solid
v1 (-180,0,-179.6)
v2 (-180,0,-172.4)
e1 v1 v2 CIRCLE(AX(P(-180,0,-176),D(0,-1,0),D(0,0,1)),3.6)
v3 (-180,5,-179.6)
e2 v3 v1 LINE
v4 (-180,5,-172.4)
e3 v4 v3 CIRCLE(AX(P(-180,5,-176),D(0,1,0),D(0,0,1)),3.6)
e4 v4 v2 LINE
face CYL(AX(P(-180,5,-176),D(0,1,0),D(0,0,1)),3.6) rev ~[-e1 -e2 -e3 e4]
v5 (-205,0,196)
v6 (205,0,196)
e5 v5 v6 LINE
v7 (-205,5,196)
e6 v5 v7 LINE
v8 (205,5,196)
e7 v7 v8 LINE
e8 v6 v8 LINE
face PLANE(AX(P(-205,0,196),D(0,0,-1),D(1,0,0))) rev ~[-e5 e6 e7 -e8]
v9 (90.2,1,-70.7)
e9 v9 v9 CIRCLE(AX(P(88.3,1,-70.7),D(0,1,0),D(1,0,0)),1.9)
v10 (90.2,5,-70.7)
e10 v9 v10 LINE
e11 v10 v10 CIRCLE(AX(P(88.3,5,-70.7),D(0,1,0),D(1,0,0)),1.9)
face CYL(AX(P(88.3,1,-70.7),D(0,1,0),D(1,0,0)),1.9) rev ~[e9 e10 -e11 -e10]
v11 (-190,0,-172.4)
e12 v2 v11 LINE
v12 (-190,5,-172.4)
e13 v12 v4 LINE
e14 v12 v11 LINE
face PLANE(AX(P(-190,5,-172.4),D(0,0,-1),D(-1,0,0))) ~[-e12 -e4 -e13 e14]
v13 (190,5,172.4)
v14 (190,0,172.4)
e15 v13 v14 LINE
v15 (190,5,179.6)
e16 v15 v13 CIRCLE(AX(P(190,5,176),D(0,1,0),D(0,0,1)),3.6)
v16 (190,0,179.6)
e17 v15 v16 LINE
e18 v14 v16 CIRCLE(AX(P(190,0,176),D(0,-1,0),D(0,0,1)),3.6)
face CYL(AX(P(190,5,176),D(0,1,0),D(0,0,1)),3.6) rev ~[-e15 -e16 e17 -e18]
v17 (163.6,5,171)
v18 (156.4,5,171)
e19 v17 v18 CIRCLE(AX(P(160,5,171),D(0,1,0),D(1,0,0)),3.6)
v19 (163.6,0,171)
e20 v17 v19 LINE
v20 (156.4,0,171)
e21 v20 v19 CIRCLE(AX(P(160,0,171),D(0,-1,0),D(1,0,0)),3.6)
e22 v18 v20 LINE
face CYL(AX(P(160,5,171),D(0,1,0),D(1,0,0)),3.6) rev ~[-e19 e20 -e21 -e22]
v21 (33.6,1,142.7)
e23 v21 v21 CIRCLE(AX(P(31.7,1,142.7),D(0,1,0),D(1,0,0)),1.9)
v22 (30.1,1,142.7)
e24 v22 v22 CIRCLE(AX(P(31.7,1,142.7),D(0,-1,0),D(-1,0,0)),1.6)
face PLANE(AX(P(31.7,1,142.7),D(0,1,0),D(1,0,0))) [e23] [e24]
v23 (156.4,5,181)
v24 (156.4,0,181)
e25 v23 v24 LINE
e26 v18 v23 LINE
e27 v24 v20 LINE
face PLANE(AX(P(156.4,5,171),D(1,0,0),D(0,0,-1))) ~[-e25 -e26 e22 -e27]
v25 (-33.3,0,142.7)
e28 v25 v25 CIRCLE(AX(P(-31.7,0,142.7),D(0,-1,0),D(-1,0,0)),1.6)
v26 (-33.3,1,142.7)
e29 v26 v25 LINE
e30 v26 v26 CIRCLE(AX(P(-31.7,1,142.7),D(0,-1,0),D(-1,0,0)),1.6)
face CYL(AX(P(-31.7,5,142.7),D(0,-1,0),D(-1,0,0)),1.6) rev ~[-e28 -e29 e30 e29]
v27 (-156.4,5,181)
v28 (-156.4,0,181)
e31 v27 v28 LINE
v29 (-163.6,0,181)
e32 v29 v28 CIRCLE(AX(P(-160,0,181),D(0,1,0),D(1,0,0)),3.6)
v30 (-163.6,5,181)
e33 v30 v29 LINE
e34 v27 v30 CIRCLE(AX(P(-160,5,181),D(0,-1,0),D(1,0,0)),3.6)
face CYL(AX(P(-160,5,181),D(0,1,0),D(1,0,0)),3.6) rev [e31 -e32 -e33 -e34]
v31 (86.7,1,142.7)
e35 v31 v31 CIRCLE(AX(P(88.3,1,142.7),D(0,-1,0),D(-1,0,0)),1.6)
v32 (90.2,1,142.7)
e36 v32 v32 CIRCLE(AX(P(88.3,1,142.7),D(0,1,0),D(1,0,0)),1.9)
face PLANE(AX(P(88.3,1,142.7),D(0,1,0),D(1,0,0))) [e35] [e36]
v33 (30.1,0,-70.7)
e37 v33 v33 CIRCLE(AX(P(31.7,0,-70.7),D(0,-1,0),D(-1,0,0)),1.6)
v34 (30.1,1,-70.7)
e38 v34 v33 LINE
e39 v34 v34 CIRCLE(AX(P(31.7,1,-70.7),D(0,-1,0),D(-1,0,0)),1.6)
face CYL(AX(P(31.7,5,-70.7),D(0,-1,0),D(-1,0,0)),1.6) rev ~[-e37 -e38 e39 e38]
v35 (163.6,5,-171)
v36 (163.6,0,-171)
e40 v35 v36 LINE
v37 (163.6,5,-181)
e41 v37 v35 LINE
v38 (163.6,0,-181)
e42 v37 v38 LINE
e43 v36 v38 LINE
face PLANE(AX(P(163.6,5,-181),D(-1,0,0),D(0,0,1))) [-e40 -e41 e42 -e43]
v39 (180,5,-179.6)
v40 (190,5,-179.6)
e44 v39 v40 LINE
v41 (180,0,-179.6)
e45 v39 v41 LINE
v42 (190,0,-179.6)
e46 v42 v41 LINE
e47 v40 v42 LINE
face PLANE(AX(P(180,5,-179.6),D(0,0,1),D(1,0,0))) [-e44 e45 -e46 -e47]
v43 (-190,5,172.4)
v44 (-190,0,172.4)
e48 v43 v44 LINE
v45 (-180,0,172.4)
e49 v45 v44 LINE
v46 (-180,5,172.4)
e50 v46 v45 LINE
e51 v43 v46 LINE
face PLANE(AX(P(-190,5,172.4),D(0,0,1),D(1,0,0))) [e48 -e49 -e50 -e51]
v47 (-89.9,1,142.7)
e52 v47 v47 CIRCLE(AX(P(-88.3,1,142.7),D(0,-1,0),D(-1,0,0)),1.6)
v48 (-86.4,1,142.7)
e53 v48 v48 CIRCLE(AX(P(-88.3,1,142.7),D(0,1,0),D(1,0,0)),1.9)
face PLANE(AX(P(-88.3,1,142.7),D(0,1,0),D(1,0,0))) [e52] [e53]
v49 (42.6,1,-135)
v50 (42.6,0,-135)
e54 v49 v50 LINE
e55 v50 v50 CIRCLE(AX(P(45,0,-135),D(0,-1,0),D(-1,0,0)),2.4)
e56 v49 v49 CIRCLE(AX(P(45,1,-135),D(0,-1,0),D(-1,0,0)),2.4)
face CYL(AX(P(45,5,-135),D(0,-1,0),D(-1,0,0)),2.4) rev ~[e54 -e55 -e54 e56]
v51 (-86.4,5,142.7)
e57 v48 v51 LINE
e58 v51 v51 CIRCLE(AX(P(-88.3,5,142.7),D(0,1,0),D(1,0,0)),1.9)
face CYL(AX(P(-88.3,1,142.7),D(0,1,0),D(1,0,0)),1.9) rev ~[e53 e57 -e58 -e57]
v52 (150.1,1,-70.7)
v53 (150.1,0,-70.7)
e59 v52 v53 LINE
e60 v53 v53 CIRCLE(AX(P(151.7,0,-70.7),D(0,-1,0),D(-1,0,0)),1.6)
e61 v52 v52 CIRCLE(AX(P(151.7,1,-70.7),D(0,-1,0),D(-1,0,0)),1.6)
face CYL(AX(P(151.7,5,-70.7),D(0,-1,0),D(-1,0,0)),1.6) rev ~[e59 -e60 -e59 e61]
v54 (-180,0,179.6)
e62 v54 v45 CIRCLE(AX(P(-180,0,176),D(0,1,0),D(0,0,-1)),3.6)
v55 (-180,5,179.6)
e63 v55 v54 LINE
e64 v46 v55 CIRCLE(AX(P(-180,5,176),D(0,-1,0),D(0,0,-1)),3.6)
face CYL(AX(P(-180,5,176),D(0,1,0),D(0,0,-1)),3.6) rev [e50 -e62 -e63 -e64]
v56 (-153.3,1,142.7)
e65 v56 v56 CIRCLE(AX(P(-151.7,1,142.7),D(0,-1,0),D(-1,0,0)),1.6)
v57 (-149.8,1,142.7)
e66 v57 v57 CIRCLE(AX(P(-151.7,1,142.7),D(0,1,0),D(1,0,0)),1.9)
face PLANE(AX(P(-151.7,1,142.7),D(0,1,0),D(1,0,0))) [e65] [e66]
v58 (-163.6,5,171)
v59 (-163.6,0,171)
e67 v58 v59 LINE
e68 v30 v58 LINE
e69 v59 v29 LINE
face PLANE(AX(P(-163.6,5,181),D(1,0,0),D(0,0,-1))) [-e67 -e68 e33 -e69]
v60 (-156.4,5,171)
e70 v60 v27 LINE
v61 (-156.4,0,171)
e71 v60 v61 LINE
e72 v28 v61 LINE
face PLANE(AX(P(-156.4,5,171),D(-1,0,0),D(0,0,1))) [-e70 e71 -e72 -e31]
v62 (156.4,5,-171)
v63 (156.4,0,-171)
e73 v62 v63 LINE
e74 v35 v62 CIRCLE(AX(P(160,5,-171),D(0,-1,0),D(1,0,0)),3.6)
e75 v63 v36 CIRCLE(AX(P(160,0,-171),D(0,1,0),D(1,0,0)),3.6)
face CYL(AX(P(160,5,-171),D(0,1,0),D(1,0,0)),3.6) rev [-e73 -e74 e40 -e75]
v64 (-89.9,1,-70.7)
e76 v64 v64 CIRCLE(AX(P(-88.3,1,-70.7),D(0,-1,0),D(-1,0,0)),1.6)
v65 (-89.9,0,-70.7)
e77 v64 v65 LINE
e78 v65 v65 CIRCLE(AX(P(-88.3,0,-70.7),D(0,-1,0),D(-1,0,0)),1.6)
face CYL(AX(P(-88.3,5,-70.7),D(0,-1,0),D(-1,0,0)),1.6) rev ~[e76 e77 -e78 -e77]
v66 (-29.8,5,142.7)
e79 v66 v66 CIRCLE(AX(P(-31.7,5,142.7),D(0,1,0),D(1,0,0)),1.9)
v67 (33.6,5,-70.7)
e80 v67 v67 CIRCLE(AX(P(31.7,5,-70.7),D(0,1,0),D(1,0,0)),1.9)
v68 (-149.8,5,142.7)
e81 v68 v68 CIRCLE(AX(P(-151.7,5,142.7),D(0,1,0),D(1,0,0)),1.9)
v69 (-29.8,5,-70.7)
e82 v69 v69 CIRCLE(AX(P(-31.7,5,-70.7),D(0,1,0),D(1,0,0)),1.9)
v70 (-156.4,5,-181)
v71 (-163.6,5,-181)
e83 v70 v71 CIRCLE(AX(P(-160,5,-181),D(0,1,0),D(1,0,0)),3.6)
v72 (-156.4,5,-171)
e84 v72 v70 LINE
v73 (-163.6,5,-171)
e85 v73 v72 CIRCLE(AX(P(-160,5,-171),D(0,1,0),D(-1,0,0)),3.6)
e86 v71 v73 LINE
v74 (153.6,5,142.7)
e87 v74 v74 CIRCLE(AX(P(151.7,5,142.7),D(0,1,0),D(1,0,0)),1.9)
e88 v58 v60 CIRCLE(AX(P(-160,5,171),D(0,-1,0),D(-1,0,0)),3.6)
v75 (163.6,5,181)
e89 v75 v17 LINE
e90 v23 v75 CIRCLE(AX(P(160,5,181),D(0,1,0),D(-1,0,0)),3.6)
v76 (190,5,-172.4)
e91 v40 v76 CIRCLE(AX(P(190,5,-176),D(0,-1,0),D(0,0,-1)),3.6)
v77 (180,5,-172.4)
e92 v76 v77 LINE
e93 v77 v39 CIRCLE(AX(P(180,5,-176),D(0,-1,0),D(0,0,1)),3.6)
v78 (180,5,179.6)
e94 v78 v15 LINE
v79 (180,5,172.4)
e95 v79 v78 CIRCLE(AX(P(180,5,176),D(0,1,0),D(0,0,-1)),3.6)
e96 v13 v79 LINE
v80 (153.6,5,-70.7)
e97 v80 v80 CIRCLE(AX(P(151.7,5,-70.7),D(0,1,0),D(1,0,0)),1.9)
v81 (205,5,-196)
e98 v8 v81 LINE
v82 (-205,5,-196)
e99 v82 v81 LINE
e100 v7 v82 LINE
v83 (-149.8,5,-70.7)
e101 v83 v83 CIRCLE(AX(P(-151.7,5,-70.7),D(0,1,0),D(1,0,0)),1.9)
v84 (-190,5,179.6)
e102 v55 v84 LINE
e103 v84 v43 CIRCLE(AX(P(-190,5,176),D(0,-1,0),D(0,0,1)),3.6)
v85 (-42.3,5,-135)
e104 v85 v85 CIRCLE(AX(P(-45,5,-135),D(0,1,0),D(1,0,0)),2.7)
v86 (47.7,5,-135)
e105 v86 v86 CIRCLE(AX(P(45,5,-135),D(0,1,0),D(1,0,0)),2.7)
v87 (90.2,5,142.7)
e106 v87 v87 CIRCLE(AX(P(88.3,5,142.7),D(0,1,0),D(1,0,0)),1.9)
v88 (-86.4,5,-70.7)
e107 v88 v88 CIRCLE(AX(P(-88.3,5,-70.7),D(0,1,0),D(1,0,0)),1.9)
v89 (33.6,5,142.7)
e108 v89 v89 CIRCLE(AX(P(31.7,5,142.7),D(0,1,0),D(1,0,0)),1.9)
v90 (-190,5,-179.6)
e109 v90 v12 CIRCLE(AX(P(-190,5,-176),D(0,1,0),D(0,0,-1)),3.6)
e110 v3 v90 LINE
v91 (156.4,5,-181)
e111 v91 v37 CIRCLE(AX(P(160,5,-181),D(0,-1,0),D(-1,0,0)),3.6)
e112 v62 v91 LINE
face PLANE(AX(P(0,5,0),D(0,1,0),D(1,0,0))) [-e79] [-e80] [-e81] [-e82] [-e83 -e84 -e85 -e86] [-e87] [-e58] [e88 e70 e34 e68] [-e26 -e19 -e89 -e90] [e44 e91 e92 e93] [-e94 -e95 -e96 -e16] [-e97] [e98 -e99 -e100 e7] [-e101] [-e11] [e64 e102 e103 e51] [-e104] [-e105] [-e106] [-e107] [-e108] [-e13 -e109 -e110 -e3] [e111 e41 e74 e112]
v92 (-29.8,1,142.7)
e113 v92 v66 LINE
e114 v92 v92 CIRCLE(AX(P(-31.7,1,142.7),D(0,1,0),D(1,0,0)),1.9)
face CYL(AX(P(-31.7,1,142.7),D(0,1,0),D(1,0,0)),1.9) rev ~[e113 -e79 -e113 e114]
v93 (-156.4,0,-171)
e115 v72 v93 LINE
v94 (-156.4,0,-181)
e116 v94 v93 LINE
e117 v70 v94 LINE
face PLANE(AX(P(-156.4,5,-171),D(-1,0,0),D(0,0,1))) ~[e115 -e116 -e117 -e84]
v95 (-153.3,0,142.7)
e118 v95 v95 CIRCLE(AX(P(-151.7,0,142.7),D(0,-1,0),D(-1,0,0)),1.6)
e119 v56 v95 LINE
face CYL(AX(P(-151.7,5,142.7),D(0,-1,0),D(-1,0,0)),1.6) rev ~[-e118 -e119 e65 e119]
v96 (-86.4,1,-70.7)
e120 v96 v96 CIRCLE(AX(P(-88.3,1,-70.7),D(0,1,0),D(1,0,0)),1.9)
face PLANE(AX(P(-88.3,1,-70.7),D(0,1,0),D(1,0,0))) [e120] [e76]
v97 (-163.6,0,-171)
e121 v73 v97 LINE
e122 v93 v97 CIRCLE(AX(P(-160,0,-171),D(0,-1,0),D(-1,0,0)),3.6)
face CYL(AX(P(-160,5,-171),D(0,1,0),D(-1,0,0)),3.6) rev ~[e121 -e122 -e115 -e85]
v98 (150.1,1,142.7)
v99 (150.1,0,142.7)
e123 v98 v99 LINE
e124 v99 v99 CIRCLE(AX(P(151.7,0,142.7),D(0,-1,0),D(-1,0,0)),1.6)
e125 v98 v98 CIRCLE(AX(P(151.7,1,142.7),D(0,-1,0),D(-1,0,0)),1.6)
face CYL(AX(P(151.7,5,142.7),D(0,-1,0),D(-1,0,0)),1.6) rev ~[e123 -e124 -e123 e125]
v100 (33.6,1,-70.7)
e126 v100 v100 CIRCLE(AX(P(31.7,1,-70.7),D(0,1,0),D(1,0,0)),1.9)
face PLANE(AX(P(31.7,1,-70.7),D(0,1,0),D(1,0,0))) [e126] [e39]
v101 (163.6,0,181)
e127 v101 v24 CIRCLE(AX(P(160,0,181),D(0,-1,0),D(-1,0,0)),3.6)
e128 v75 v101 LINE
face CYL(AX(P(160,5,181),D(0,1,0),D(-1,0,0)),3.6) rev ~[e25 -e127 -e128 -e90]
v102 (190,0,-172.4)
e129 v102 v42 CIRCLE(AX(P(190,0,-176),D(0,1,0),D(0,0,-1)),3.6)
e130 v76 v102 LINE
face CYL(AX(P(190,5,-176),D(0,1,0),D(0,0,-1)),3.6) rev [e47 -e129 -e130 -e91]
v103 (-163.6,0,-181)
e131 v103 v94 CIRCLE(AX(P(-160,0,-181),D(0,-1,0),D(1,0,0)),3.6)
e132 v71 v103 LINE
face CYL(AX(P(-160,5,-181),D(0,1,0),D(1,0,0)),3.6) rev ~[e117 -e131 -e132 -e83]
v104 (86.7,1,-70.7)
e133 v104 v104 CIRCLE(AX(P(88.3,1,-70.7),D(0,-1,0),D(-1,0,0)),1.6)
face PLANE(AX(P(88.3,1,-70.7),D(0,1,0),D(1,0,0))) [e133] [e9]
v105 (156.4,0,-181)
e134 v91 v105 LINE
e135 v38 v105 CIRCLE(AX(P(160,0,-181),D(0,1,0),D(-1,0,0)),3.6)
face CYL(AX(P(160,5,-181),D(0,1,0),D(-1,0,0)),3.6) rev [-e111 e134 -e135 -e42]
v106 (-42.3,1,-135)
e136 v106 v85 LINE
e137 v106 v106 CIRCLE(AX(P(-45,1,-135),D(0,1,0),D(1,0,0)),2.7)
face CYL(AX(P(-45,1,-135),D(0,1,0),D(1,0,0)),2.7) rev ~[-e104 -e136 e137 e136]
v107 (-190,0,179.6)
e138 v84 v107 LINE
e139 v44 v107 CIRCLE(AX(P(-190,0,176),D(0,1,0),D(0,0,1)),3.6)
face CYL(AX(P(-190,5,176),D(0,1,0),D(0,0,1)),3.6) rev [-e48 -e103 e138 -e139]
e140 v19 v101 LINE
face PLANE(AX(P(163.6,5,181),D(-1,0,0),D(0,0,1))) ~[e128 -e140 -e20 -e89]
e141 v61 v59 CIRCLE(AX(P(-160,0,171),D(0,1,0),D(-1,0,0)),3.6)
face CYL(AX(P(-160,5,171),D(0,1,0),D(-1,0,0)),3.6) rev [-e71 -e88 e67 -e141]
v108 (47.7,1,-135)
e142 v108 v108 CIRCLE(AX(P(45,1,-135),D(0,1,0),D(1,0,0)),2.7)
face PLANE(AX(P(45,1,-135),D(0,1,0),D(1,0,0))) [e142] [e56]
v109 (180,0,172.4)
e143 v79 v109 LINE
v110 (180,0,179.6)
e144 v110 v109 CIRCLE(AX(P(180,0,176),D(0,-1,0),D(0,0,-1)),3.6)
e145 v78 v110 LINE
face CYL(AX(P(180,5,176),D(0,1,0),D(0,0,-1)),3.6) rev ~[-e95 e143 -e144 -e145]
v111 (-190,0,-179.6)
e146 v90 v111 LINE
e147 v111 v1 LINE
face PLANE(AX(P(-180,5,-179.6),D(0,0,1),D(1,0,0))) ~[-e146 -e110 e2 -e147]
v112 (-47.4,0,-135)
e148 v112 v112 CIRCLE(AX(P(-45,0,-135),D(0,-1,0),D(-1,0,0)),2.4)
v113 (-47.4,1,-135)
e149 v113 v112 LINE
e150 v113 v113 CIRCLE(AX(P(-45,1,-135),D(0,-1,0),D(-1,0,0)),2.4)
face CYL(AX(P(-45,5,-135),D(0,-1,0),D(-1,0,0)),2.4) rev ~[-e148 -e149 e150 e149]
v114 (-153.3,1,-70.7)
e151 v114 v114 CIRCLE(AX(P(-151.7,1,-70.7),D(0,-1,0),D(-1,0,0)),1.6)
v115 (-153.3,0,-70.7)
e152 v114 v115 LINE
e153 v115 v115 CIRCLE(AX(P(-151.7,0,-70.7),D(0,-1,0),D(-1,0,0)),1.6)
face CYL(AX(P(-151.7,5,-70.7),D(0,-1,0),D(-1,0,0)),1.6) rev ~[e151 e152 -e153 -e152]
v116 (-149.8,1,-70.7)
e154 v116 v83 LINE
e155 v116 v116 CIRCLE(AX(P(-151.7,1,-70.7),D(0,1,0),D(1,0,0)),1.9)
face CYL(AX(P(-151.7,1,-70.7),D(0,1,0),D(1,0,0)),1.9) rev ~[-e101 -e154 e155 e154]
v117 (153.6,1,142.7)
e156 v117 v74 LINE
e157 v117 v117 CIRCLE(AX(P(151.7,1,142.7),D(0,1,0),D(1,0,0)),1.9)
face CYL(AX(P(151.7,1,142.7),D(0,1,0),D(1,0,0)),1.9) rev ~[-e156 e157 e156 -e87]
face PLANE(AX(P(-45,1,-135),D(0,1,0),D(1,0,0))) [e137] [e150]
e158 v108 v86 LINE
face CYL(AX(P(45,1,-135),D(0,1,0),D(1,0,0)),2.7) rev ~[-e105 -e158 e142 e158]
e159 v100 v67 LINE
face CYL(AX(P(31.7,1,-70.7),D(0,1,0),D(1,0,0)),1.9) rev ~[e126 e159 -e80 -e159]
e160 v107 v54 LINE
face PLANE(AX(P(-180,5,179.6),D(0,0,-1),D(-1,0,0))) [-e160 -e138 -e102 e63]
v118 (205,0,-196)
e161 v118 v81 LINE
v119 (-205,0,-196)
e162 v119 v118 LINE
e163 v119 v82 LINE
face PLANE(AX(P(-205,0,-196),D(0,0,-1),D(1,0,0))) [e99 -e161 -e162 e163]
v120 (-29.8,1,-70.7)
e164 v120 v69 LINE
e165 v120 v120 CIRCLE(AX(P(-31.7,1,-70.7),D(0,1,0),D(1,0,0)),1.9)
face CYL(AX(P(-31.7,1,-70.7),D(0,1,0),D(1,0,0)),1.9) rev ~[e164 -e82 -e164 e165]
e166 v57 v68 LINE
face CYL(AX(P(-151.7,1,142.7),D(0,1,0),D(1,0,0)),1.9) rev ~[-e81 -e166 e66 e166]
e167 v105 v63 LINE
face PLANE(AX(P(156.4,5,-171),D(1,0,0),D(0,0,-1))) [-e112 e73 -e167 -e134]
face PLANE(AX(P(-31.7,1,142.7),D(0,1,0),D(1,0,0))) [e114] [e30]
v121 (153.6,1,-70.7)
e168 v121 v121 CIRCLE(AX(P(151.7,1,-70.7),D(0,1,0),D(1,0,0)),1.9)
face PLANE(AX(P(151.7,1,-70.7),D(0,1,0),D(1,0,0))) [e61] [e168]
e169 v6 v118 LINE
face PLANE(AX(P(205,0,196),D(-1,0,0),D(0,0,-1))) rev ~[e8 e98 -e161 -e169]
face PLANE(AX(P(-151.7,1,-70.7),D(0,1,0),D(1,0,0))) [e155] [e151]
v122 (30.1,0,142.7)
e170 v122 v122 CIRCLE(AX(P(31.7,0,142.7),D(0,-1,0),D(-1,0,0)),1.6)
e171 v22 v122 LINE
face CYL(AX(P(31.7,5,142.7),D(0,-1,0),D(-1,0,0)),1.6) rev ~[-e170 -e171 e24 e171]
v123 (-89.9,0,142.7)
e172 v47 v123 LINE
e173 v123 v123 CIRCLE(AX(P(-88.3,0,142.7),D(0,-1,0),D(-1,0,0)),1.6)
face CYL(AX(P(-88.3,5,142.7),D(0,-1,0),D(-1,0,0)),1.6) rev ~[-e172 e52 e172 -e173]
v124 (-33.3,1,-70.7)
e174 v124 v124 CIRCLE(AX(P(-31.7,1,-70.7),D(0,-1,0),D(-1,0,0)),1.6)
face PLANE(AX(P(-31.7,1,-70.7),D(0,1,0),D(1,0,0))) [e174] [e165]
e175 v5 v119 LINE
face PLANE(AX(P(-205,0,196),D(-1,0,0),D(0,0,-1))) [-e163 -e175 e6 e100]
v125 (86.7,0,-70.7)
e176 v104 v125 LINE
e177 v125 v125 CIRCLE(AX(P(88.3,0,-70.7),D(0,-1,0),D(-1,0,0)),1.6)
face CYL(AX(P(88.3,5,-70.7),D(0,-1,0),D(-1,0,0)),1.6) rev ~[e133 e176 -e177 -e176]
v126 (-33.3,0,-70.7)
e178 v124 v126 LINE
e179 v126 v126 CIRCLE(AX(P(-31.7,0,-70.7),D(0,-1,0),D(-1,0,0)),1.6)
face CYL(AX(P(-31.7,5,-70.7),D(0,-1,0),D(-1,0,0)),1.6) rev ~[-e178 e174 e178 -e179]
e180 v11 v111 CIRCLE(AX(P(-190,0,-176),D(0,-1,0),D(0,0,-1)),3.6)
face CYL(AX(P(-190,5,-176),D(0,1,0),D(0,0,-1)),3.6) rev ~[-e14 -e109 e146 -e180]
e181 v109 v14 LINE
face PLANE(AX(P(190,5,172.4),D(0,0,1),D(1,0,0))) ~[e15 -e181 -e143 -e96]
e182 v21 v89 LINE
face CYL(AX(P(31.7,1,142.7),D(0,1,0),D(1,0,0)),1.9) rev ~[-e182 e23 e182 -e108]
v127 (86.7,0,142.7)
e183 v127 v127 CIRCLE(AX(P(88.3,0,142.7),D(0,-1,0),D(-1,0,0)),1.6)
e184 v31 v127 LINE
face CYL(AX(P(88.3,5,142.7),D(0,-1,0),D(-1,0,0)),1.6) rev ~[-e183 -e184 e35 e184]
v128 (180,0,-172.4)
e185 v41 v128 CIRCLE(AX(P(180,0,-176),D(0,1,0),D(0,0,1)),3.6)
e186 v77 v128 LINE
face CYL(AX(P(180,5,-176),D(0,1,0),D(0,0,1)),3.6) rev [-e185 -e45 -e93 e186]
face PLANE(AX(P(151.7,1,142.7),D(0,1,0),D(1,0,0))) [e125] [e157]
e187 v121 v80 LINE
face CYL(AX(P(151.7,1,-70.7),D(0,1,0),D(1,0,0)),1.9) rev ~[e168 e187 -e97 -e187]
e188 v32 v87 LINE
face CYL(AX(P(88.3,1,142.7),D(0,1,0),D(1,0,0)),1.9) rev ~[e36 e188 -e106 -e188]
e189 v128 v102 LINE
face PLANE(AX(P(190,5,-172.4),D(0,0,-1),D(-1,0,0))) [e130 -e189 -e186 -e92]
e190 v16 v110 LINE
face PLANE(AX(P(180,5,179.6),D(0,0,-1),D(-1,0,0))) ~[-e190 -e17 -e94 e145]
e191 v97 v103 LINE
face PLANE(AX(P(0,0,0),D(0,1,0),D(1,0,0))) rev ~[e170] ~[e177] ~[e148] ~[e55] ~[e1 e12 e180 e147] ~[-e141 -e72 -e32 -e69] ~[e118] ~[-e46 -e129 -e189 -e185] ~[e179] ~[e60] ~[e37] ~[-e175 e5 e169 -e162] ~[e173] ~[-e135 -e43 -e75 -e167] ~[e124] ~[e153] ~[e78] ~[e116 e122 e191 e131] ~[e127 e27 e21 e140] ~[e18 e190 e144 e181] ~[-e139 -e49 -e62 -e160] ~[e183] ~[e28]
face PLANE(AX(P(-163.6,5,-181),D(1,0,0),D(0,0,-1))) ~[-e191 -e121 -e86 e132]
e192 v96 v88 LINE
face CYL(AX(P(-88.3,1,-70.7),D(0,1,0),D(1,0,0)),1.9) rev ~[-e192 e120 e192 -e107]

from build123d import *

# Parameters (mm, degrees)
SKETCH1_W                                = 410
SKETCH1_H                                = 392
BOSS_EXTRUDE1_DEPTH                      = 5
HOLE1_D                                  = 3.2
HOLE1_CBORE_D                            = 3.8
HOLE1_CBORE_DEPTH                        = 4
CUT_EXTRUDE2_REACH                       = 285.665
MIRROR1_AT_THE_SECOND_PLANE_COPY_1_REACH = 285.665
HOLE2_D                                  = 4.8
HOLE2_CBORE_D                            = 5.4
HOLE2_CBORE_DEPTH                        = 4


with BuildPart() as part:
    # Sketch1 → Boss-Extrude1 (new body)
    with BuildSketch(Plane(origin=(0, 0, 0), x_dir=(1, 0, 0), z_dir=(0, 1, 0))):
        Rectangle(SKETCH1_W, SKETCH1_H)
    extrude(amount=BOSS_EXTRUDE1_DEPTH)

    # Hole1 (through all)
    with Locations(Plane(origin=(0, 5, 0), x_dir=(1, 0, 0), z_dir=(0, 1, 0))):
        with Locations((-151.7, 70.7), (-88.3, 70.7), (-151.7, -142.7), (-88.3, -142.7), (-31.7, 70.7), (31.7, 70.7), (-31.7, -142.7), (31.7, -142.7), (88.3, 70.7), (151.7, 70.7), (88.3, -142.7), (151.7, -142.7)):
            CounterBoreHole(HOLE1_D / 2, HOLE1_CBORE_D / 2, HOLE1_CBORE_DEPTH)

    # Sketch2 → Cut-Extrude2 (cut, up to next)
    with BuildSketch(Plane(origin=(0, 5, 0), x_dir=(1, 0, 0), z_dir=(0, 1, 0)), mode=Mode.PRIVATE) as cut_extrude2_sk1:
        with BuildLine():
            Line((-190, -172.4), (-180, -172.4))
            ThreePointArc((-180, -172.4), (-176.4, -176), (-180, -179.6))
            Line((-180, -179.6), (-190, -179.6))
            ThreePointArc((-190, -179.6), (-193.6, -176), (-190, -172.4))
        make_face()
    cut_extrude2_tool1 = extrude(cut_extrude2_sk1.sketch, amount=-CUT_EXTRUDE2_REACH, mode=Mode.PRIVATE) & part.part
    # Sketch2 → Cut-Extrude2 (cut, up to next)
    with BuildSketch(Plane(origin=(0, 5, 0), x_dir=(1, 0, 0), z_dir=(0, 1, 0)), mode=Mode.PRIVATE) as cut_extrude2_sk2:
        with BuildLine():
            Line((-156.4, -171), (-156.4, -181))
            ThreePointArc((-156.4, -181), (-160, -184.6), (-163.6, -181))
            Line((-163.6, -181), (-163.6, -171))
            ThreePointArc((-163.6, -171), (-160, -167.4), (-156.4, -171))
        make_face()
    cut_extrude2_tool2 = extrude(cut_extrude2_sk2.sketch, amount=-CUT_EXTRUDE2_REACH, mode=Mode.PRIVATE) & part.part
    cut_extrude2_1 = cut_extrude2_tool1.solids().sort_by_distance((-185, 5, 176))[0]
    add(cut_extrude2_1, mode=Mode.SUBTRACT)
    cut_extrude2_2 = cut_extrude2_tool2.solids().sort_by_distance((-160, 5, 176))[0]
    add(cut_extrude2_2, mode=Mode.SUBTRACT)
    cut_extrude2 = cut_extrude2_1 + cut_extrude2_2  # Cut-Extrude2 as one shape, for the pattern or mirror that repeats it

    # Mirror1: Cut-Extrude2 across plane
    add(cut_extrude2.mirror(Plane(origin=(0, 0, 0), x_dir=(0, 0, 1), z_dir=(1, 0, 0))), mode=Mode.SUBTRACT)

    # Mirror1 at the second plane: Cut-Extrude2 across plane
    add(cut_extrude2.mirror(Plane.XY), mode=Mode.SUBTRACT)

    # Mirror1 at the second plane copy 1 sketc → Mirror1 at the second plane copy 1 (cut, up to next)
    with BuildSketch(Plane(origin=(0, 5, 0), x_dir=(-1, 0, 0), z_dir=(0, 1, 0)), mode=Mode.PRIVATE) as mirror1_at_the_second_plane_copy_1_sk1:
        with BuildLine():
            Line((-190, -172.4), (-180, -172.4))
            ThreePointArc((-180, -172.4), (-176.4, -176), (-180, -179.6))
            Line((-180, -179.6), (-190, -179.6))
            ThreePointArc((-190, -179.6), (-193.6, -176), (-190, -172.4))
        make_face()
    mirror1_at_the_second_plane_copy_1_tool1 = extrude(mirror1_at_the_second_plane_copy_1_sk1.sketch, amount=-MIRROR1_AT_THE_SECOND_PLANE_COPY_1_REACH, mode=Mode.PRIVATE) & part.part
    # Mirror1 at the second plane copy 1 sketc → Mirror1 at the second plane copy 1 (cut, up to next)
    with BuildSketch(Plane(origin=(0, 5, 0), x_dir=(-1, 0, 0), z_dir=(0, 1, 0)), mode=Mode.PRIVATE) as mirror1_at_the_second_plane_copy_1_sk2:
        with BuildLine():
            Line((-156.4, -171), (-156.4, -181))
            ThreePointArc((-156.4, -181), (-160, -184.6), (-163.6, -181))
            Line((-163.6, -181), (-163.6, -171))
            ThreePointArc((-163.6, -171), (-160, -167.4), (-156.4, -171))
        make_face()
    mirror1_at_the_second_plane_copy_1_tool2 = extrude(mirror1_at_the_second_plane_copy_1_sk2.sketch, amount=-MIRROR1_AT_THE_SECOND_PLANE_COPY_1_REACH, mode=Mode.PRIVATE) & part.part
    add(mirror1_at_the_second_plane_copy_1_tool1.solids().sort_by_distance((185, 5, -176))[0], mode=Mode.SUBTRACT)
    add(mirror1_at_the_second_plane_copy_1_tool2.solids().sort_by_distance((160, 5, -176))[0], mode=Mode.SUBTRACT)

    # Hole2 (through all)
    with Locations(Plane(origin=(0, 5, 0), x_dir=(1, 0, 0), z_dir=(0, 1, 0))):
        with Locations((-45, 135), (45, 135)):
            CounterBoreHole(HOLE2_D / 2, HOLE2_CBORE_D / 2, HOLE2_CBORE_DEPTH)


solid = part.part
